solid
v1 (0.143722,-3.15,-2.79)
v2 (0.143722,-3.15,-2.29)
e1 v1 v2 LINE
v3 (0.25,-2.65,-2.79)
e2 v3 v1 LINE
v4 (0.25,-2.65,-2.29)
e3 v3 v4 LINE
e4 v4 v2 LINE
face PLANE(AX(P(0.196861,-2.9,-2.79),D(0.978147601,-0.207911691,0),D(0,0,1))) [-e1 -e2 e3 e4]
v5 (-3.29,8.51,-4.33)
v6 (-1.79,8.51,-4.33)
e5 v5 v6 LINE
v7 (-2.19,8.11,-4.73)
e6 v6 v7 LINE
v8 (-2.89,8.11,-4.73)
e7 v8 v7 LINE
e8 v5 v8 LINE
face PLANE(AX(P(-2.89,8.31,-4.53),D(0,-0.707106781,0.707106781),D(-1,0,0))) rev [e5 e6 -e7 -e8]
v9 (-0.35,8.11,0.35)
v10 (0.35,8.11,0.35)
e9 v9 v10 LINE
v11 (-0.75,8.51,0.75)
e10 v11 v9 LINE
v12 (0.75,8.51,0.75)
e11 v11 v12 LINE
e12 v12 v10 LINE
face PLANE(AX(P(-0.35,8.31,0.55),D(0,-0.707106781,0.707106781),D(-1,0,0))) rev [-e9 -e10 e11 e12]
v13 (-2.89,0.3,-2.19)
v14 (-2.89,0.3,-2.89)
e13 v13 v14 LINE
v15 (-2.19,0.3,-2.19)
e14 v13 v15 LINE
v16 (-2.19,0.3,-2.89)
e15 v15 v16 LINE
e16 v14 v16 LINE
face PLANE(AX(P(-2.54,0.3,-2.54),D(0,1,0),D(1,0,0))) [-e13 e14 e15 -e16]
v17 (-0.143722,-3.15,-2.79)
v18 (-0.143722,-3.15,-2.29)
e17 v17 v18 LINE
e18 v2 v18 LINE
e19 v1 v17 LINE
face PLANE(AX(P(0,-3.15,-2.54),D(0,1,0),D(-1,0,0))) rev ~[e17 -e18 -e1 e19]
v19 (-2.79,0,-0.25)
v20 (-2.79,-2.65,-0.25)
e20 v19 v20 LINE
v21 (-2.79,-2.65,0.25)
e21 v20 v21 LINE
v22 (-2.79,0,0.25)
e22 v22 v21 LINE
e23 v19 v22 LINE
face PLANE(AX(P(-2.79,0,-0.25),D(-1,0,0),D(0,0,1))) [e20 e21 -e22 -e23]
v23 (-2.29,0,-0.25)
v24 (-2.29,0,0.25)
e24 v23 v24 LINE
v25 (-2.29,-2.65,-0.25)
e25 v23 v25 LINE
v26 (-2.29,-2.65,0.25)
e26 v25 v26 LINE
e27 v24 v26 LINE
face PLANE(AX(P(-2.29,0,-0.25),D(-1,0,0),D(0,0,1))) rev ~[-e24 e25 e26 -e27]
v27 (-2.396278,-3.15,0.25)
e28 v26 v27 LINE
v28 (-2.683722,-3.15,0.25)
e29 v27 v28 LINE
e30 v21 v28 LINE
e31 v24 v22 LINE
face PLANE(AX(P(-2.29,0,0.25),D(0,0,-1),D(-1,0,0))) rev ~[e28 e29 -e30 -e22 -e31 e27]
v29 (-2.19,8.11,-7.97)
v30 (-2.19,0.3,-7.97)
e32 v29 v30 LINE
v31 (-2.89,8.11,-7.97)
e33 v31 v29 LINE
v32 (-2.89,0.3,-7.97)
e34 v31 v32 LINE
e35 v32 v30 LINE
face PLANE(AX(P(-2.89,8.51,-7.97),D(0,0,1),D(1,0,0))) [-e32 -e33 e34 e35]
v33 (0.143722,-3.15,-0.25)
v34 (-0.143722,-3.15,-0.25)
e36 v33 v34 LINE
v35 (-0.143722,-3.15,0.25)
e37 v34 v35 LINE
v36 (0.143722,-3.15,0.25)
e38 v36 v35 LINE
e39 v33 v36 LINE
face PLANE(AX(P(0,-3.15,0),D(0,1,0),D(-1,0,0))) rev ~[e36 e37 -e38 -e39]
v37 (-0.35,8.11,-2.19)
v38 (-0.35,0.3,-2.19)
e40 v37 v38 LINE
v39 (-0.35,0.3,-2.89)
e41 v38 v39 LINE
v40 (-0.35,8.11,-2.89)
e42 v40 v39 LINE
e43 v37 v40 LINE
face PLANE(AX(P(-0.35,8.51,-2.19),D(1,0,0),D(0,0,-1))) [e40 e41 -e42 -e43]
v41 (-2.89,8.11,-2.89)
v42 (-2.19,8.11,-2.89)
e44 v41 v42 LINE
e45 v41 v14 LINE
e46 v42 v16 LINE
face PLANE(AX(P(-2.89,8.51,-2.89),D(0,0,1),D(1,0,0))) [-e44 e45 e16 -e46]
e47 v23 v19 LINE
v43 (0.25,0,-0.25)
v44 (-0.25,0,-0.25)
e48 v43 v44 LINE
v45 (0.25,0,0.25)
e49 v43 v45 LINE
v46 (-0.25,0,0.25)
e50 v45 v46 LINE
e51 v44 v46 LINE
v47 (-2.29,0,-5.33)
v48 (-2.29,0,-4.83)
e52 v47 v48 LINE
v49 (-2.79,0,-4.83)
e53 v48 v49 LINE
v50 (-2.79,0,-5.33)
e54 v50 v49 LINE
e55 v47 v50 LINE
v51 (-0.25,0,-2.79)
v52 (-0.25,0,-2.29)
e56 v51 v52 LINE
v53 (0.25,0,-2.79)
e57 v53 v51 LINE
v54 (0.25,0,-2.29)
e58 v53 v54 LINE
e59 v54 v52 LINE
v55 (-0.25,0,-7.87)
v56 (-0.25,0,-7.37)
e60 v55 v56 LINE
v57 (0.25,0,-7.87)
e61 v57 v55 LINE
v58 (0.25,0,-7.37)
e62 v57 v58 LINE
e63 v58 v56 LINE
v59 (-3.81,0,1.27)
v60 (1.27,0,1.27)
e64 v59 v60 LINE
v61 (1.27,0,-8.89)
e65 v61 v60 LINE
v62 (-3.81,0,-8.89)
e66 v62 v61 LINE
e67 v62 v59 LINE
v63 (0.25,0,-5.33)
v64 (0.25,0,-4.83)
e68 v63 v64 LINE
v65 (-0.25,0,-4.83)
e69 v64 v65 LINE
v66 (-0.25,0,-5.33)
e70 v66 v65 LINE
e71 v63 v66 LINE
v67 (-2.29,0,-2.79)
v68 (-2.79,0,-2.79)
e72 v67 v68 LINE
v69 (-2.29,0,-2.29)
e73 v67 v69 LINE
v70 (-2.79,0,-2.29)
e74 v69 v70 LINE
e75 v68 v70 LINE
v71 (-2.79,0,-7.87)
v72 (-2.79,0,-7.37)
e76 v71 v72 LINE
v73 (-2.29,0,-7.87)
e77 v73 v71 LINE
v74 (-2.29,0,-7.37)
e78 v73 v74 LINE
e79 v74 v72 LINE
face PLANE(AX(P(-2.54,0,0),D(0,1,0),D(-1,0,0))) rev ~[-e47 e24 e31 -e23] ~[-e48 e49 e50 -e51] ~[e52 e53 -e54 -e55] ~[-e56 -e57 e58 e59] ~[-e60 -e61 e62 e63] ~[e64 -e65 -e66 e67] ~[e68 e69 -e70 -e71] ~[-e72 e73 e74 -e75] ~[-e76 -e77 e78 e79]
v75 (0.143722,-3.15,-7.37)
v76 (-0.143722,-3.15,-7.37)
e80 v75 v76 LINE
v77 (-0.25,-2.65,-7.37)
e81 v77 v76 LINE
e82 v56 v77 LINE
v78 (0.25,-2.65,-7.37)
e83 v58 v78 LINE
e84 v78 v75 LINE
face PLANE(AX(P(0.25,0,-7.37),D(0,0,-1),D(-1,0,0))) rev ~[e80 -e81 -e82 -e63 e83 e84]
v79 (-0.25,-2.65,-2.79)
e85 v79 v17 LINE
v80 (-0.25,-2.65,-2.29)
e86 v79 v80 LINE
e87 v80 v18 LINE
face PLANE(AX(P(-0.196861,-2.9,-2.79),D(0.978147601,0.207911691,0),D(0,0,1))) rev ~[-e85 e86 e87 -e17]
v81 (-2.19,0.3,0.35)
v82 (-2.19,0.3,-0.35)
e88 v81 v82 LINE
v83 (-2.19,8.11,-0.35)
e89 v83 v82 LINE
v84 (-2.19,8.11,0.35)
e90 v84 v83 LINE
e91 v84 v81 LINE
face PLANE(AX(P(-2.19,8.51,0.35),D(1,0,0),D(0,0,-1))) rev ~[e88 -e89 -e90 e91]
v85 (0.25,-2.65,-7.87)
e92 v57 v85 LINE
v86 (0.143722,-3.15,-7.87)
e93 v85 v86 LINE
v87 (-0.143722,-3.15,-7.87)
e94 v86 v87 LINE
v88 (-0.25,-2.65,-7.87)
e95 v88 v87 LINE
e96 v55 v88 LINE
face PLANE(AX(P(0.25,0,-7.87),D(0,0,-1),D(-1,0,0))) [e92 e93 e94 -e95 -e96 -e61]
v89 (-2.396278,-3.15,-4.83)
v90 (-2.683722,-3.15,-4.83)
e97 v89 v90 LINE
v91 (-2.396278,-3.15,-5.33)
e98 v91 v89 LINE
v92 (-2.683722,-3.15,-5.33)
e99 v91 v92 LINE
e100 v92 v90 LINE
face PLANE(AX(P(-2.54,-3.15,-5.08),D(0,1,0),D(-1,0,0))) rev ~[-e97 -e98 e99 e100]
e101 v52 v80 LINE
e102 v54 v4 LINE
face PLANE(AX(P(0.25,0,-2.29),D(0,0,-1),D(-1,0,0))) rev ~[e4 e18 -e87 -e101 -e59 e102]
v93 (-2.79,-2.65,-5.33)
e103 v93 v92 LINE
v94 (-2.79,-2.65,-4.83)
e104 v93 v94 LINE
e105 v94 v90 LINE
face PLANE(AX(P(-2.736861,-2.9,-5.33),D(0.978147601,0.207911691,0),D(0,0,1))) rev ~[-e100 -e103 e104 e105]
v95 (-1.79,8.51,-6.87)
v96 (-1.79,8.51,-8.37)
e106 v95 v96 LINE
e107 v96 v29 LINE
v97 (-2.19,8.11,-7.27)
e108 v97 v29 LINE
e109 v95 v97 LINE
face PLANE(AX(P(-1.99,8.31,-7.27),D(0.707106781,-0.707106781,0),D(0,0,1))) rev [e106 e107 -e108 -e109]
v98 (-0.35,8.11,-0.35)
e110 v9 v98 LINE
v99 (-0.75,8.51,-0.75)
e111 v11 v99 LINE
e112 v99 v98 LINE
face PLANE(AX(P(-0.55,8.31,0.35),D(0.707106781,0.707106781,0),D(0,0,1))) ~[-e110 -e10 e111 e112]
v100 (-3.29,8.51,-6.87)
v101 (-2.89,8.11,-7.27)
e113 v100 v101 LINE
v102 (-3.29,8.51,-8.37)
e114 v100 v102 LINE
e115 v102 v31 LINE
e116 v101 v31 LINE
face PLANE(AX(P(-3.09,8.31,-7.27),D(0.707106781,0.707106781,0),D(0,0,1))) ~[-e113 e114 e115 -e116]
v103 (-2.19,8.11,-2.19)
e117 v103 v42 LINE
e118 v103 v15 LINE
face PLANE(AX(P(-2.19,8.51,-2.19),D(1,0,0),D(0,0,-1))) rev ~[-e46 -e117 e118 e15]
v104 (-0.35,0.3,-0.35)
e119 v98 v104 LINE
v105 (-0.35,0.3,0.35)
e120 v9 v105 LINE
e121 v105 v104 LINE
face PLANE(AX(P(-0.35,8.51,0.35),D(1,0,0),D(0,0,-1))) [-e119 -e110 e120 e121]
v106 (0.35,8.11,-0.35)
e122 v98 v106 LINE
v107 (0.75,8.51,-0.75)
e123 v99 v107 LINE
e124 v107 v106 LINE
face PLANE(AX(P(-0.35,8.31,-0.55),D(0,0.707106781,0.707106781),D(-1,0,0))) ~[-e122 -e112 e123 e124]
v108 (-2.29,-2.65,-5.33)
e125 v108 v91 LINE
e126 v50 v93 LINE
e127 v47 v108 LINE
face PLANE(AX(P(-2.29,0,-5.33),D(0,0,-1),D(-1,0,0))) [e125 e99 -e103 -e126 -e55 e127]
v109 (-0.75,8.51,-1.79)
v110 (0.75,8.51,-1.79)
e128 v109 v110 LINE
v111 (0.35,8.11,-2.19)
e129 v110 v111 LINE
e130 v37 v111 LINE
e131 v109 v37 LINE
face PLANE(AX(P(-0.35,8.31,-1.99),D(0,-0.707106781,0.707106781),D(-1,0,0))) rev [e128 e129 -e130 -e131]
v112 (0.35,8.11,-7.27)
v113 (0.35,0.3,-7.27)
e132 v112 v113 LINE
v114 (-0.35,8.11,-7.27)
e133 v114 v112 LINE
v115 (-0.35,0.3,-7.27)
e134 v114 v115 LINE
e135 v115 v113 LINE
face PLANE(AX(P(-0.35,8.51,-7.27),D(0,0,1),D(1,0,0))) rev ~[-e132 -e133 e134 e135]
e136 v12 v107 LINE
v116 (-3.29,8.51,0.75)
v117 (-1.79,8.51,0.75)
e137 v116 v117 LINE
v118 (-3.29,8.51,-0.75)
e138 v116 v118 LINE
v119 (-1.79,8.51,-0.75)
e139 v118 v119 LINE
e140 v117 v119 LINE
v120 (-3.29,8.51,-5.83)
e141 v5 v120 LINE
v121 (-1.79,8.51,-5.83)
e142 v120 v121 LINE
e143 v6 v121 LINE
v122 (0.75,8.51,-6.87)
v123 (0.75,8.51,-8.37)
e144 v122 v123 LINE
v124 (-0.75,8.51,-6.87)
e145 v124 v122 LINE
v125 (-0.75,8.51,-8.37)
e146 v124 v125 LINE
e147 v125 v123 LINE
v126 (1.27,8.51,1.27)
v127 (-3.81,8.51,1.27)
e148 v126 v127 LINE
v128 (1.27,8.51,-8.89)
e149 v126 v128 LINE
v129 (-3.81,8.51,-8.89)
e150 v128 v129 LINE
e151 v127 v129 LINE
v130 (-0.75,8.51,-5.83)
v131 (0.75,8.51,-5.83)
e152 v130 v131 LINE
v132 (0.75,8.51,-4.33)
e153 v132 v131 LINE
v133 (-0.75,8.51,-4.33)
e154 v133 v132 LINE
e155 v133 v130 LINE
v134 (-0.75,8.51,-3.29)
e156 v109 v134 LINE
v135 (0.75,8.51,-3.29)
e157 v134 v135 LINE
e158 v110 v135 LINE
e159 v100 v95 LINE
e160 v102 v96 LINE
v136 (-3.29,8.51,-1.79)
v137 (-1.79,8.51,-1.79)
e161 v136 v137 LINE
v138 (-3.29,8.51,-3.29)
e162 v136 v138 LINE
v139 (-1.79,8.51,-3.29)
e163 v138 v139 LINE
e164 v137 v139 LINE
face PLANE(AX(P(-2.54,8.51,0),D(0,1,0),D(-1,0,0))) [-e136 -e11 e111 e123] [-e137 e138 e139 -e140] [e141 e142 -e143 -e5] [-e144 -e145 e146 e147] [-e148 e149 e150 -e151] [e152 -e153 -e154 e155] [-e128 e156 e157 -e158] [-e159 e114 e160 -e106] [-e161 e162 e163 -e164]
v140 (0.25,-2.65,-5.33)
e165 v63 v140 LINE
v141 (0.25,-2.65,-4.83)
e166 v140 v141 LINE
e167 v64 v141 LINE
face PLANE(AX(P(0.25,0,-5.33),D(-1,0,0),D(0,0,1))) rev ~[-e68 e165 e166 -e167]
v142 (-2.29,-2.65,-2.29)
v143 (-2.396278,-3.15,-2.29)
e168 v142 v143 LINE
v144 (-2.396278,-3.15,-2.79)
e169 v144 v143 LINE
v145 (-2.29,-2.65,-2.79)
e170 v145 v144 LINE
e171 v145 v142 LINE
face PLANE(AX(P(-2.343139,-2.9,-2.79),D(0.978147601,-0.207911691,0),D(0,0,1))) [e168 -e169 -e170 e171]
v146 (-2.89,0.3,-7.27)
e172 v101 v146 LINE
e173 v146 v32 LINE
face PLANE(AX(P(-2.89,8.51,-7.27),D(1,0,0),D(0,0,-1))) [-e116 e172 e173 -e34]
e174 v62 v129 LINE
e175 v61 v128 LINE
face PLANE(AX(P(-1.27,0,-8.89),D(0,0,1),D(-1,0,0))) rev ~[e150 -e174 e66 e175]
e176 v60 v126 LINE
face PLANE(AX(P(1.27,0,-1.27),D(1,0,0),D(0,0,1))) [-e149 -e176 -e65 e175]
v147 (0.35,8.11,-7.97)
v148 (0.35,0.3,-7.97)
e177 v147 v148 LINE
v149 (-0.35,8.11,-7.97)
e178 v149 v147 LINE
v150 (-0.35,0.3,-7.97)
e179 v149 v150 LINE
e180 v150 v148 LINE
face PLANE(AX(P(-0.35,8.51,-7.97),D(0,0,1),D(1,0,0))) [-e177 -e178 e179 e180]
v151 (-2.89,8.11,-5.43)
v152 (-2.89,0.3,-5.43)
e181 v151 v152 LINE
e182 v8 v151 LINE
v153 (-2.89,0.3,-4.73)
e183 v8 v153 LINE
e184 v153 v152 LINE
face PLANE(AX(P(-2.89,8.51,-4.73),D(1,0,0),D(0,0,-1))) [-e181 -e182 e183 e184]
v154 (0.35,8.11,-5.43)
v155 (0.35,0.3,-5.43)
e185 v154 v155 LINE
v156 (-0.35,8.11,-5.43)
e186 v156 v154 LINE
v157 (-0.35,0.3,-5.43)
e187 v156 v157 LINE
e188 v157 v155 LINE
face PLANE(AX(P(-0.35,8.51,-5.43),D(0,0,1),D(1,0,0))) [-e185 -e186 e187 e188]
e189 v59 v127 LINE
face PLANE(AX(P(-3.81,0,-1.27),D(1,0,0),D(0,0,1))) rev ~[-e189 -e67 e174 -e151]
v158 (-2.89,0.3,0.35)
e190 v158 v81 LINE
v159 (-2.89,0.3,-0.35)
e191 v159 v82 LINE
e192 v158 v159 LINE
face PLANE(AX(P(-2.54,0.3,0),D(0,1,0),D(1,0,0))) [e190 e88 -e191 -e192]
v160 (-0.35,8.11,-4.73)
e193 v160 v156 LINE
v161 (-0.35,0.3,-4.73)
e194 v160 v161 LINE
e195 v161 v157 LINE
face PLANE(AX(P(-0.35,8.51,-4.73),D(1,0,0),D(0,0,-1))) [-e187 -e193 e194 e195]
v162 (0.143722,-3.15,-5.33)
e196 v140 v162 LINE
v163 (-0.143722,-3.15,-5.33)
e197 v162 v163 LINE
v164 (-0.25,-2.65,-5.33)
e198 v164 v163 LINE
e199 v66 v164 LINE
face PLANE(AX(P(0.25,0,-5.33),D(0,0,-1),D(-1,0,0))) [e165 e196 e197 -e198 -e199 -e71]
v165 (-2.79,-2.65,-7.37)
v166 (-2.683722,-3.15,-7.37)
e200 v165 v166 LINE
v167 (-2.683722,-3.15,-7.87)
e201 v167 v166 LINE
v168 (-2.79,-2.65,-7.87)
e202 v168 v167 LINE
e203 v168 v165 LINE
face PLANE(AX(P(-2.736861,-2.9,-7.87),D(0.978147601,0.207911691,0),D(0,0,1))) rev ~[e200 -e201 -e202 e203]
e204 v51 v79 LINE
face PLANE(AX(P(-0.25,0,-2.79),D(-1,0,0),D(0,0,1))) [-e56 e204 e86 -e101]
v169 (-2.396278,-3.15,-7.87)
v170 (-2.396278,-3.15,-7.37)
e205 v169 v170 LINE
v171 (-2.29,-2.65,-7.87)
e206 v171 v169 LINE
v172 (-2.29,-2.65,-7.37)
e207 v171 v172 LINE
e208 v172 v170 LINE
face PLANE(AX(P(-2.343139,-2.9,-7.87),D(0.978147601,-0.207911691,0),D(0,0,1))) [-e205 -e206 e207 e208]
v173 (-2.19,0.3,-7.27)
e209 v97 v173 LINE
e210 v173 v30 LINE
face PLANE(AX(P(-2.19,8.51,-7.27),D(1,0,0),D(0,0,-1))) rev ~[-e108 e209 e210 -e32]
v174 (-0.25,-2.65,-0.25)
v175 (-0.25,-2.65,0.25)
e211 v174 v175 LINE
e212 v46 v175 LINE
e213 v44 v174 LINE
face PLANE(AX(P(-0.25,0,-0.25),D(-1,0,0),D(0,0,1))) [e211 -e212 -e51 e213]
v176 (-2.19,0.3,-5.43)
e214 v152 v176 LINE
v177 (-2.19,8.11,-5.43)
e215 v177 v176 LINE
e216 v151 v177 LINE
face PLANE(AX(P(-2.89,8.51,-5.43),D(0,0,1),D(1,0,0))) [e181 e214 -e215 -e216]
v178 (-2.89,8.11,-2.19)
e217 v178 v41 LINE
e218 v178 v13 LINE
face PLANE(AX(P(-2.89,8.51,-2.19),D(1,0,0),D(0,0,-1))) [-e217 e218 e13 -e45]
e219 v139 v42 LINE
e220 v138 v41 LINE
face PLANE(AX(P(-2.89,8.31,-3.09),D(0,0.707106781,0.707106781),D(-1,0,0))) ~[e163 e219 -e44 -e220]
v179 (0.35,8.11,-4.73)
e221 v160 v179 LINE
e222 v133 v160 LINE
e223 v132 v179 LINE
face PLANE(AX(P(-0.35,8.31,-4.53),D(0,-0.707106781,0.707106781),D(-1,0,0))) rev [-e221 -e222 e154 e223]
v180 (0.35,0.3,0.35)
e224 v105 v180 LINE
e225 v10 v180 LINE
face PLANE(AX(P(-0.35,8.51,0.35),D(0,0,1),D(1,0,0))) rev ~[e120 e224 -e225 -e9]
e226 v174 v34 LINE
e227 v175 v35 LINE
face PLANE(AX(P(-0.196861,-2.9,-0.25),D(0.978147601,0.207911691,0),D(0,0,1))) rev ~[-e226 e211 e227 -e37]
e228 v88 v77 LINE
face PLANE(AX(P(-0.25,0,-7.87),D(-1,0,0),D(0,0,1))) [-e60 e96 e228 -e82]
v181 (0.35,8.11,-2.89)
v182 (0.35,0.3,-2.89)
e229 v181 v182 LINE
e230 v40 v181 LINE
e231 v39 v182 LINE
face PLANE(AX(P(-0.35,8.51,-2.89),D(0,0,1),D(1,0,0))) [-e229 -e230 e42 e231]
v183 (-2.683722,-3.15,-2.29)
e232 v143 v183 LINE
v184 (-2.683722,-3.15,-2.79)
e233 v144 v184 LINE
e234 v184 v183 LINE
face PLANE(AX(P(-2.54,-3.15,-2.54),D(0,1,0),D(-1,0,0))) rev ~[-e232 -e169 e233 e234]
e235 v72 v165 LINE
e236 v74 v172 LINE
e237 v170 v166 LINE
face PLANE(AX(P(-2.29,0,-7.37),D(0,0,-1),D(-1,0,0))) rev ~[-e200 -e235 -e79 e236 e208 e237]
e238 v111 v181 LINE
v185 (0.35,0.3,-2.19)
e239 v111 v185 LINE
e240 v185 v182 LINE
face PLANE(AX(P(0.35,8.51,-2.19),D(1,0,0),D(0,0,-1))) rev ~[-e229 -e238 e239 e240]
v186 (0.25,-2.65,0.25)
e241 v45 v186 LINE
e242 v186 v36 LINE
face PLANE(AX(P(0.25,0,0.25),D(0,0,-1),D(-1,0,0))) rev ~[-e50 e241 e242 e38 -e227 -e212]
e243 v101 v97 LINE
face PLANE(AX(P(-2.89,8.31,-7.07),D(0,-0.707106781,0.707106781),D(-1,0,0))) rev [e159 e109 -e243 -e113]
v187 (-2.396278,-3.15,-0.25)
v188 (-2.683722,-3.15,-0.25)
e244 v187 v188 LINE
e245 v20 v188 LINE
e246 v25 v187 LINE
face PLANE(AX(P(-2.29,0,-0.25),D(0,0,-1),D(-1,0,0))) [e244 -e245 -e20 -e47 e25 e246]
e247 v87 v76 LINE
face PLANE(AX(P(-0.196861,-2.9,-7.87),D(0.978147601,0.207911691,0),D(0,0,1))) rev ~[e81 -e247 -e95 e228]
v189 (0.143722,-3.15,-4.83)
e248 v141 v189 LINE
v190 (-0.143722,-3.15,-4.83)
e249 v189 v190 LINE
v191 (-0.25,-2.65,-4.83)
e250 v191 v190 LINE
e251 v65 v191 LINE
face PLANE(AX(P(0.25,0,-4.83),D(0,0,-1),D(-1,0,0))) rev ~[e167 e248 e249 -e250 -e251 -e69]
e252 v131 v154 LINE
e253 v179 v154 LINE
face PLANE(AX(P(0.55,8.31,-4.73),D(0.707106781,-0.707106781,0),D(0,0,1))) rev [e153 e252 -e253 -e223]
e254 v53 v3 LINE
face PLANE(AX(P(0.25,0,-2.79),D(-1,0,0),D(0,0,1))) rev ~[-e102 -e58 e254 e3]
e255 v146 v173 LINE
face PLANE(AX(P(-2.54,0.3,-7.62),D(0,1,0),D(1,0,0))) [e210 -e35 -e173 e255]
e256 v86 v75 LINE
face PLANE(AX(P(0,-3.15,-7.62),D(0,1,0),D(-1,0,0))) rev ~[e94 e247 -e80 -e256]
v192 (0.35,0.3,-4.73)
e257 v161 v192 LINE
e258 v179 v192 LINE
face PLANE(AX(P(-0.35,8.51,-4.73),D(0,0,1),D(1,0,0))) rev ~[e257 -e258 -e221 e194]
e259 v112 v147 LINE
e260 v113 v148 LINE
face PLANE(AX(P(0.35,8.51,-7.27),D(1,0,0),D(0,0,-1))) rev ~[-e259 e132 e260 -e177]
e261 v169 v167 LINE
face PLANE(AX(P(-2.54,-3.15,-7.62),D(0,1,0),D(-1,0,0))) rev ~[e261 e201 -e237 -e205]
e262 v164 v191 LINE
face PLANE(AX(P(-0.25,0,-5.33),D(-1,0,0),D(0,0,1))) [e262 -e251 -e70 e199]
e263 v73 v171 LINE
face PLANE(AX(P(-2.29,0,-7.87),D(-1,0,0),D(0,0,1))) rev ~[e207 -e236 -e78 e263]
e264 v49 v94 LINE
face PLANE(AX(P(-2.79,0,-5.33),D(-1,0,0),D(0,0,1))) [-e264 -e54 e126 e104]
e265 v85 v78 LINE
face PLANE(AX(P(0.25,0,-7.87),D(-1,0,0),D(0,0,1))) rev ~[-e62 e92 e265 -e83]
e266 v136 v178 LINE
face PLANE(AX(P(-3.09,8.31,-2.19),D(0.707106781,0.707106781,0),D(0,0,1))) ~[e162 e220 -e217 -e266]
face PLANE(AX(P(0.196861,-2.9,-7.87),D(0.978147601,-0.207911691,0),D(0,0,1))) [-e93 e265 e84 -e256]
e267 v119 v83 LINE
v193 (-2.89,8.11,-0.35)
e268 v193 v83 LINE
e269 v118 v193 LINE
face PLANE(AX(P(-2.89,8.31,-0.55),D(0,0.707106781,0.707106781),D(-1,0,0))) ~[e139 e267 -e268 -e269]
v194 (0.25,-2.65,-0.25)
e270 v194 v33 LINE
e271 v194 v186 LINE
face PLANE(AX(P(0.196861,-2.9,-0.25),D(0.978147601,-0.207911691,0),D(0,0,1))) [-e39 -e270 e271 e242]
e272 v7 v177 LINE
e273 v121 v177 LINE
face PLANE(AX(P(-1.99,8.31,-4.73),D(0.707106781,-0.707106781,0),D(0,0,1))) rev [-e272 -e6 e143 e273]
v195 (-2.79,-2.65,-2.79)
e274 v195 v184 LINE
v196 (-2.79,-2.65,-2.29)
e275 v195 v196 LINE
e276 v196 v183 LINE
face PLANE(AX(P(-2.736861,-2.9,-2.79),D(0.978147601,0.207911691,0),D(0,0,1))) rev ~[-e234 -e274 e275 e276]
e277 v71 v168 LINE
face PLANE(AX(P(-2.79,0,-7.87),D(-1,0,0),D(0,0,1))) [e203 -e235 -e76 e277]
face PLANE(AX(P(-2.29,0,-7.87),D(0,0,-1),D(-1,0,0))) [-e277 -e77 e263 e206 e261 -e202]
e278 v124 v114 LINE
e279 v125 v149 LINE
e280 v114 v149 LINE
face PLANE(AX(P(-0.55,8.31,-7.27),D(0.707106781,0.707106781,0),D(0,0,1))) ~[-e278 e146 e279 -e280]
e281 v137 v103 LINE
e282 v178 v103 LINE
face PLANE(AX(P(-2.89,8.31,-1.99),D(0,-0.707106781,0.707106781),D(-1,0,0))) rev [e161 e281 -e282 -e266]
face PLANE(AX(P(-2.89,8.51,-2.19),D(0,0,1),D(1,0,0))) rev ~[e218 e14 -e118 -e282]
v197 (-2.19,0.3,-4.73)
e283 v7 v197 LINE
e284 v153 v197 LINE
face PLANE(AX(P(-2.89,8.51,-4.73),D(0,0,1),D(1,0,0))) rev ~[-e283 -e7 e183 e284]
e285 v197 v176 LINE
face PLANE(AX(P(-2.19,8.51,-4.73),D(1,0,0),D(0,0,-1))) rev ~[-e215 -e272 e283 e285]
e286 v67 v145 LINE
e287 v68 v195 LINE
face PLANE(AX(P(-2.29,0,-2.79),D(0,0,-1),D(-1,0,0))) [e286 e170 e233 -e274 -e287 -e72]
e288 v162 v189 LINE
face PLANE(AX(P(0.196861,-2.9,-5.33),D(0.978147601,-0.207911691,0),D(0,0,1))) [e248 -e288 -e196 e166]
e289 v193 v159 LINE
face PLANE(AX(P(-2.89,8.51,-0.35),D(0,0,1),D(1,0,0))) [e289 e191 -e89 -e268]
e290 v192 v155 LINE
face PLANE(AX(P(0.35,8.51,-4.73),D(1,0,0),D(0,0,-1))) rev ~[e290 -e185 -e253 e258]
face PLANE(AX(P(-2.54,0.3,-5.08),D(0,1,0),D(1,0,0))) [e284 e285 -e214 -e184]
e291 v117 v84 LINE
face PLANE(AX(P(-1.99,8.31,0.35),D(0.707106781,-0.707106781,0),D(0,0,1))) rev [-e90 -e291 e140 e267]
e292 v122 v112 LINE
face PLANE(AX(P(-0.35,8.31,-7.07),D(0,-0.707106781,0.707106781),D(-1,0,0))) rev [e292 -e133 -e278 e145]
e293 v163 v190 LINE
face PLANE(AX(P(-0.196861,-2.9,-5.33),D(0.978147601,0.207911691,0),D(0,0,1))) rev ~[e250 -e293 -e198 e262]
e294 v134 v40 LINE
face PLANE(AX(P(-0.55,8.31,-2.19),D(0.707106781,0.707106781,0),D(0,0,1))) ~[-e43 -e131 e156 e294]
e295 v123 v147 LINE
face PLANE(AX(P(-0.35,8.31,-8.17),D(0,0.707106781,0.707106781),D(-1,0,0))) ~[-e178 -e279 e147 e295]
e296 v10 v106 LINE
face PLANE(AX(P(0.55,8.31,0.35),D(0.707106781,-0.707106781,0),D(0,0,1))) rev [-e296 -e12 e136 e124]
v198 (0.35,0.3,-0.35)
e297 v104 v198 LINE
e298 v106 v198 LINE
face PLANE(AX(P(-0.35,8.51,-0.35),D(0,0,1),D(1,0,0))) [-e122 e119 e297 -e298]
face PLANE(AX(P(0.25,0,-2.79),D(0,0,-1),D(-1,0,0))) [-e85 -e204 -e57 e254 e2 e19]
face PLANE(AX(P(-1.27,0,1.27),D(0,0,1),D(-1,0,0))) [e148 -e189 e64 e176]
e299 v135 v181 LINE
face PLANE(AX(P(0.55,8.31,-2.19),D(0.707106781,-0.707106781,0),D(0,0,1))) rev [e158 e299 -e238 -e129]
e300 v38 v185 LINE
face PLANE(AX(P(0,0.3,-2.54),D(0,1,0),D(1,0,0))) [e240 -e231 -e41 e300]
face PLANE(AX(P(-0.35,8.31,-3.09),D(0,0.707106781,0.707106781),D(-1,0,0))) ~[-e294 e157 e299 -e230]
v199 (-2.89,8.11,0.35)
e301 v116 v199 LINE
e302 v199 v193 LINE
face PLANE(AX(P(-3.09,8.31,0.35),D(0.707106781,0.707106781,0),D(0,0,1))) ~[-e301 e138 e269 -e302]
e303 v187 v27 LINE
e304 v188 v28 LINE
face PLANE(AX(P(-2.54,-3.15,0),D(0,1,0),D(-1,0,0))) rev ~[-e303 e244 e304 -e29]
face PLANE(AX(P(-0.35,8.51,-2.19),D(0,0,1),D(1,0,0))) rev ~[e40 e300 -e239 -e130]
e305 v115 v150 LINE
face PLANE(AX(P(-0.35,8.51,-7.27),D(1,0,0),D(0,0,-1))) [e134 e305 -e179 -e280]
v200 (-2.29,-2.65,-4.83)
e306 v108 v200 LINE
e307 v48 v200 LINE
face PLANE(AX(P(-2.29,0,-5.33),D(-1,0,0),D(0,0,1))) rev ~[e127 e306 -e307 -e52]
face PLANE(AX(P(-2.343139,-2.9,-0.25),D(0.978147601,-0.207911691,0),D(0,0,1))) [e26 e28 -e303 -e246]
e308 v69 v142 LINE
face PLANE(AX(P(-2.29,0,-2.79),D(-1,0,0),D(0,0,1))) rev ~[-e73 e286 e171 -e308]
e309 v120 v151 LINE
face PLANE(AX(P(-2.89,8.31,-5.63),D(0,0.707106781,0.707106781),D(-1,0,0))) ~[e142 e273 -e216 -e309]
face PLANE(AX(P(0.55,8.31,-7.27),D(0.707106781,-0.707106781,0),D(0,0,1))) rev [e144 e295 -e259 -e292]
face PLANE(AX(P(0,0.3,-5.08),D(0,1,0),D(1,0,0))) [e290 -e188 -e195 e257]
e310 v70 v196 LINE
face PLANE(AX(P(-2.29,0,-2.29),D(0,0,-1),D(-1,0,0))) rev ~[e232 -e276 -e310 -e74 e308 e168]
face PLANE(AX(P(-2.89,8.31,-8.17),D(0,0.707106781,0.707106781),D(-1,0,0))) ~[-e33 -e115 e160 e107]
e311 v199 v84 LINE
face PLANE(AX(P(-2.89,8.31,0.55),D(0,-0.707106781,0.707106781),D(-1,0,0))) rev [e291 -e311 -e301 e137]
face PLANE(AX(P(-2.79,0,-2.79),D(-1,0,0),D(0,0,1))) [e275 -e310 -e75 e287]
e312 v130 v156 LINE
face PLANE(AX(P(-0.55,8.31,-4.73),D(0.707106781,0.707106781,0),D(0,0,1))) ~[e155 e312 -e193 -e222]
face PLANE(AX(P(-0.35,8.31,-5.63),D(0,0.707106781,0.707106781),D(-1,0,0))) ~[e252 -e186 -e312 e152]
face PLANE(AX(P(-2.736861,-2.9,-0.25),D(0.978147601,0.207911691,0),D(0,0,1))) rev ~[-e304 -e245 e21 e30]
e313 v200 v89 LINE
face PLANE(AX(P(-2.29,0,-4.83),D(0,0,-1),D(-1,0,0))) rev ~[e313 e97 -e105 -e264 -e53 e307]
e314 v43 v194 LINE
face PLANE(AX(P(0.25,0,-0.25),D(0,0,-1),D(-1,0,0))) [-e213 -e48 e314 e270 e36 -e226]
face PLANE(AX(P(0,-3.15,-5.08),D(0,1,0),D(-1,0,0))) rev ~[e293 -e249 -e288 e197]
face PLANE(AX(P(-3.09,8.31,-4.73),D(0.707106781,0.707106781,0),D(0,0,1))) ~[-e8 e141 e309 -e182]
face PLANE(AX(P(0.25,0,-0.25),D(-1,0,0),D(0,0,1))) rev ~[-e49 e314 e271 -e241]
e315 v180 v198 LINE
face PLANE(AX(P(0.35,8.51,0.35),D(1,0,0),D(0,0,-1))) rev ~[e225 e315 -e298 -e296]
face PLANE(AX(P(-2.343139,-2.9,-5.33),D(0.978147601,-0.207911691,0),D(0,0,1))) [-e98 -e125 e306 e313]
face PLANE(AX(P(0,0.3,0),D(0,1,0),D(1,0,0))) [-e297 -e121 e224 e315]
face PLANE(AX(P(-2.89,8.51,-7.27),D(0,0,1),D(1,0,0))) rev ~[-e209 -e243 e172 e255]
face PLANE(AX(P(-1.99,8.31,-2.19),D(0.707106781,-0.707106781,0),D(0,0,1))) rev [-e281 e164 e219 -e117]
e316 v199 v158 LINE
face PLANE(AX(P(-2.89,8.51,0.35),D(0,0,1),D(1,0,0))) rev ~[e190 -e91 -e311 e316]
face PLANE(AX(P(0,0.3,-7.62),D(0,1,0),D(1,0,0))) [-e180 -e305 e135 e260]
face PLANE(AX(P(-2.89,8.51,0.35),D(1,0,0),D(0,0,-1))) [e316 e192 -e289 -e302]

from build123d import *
from OCP.BRepFilletAPI import BRepFilletAPI_MakeChamfer

# Parameters (mm, degrees)
SKETCH_1_W                          = 2.54
SKETCH_1_H                          = 2.54
EXTRUDE_1_DEPTH                     = 8.51
SKETCH_4_W                          = 0.7
SKETCH_4_H                          = 0.7
CUT_EXTRUDE_1_DEPTH                 = 8.21
CHAMFER_3_SIZE                      = 0.4
SKETCH_2_W                          = 0.5
SKETCH_2_H                          = 0.5
EXTRUDE_2_DEPTH                     = 3.15
CHAMFER_2_SIZE                      = 0.5
CHAMFER_2_SIZE2                     = 0.106278281
PATTERN_LINEAR_1_COUNT              = 4
PATTERN_LINEAR_1_PITCH              = 2.54
PATTERN_LINEAR_1_COUNT_DIR2         = 2
PATTERN_LINEAR_1_PITCH_DIR2         = 2.54
CHAMFER_3_OF_PATTERN_LINEAR_1_SIZE  = 0.4
CHAMFER_2_OF_PATTERN_LINEAR_1_SIZE  = 0.5
CHAMFER_2_OF_PATTERN_LINEAR_1_SIZE2 = 0.106278281


with BuildPart() as part:
    # Эскиз1 → Бобышка-Вытянуть1 (new body)
    with BuildSketch(Plane(origin=(0, 0, 0), x_dir=(-1, 0, 0), z_dir=(0, 1, 0))):
        Rectangle(SKETCH_1_W, SKETCH_1_H)
    extrude_1 = extrude(amount=EXTRUDE_1_DEPTH)

    # Эскиз4 → Вырез-Вытянуть1 (cut)
    with BuildSketch(Plane(origin=(0, 8.51, 0), x_dir=(1, 0, 0), z_dir=(0, 1, 0))):
        Rectangle(SKETCH_4_W, SKETCH_4_H)
    cut_extrude_1 = extrude(amount=-CUT_EXTRUDE_1_DEPTH, mode=Mode.SUBTRACT)

    # Фаска3
    chamfer_3_edges = [part.edges().sort_by_distance(p)[0] for p in [
        (-0.35, 8.51, 0),
        (0, 8.51, 0.35),
        (0.35, 8.51, 0),
        (0, 8.51, -0.35),
    ]]
    chamfer(chamfer_3_edges, length=CHAMFER_3_SIZE)

    # Эскиз2 → Бобышка-Вытянуть2 (add)
    with BuildSketch(Plane(origin=(0, 0, 0), x_dir=(-1, 0, 0), z_dir=(0, 1, 0))):
        Rectangle(SKETCH_2_W, SKETCH_2_H)
    extrude_2 = extrude(amount=-EXTRUDE_2_DEPTH)

    # Фаска2: one chamfer whose edges measure the first distance from different faces: ONE call of the kernel's chamfer builder (chamfer() names one face for all edges)
    chamfer_2_edges_1 = [part.edges().sort_by_distance(p)[0] for p in [
        (-0.25, -3.15, 0),
    ]]
    chamfer_2_side_1 = [part.faces().sort_by_distance(p)[0] for p in [
        (-0.25, -1.575, 0),
    ]]
    chamfer_2_edges_2 = [part.edges().sort_by_distance(p)[0] for p in [
        (0.25, -3.15, 0),
    ]]
    chamfer_2_side_2 = [part.faces().sort_by_distance(p)[0] for p in [
        (0.25, -1.575, 0),
    ]]
    chamfer_2 = BRepFilletAPI_MakeChamfer(part.part.solid().wrapped)
    for e in chamfer_2_edges_1:
        chamfer_2.Add(CHAMFER_2_SIZE, CHAMFER_2_SIZE2, e.wrapped, chamfer_2_side_1[0].wrapped)  # the first distance lies on this face
    for e in chamfer_2_edges_2:
        chamfer_2.Add(CHAMFER_2_SIZE, CHAMFER_2_SIZE2, e.wrapped, chamfer_2_side_2[0].wrapped)  # the first distance lies on this face
    add(Compound.cast(chamfer_2.Shape()), mode=Mode.REPLACE)

    # Линейный массив1: Бобышка-Вытянуть1, Вырез-Вытянуть1, Extrude 2 4 × 2
    with Locations(*[(-j * PATTERN_LINEAR_1_PITCH_DIR2, 0, -i * PATTERN_LINEAR_1_PITCH) for i in range(PATTERN_LINEAR_1_COUNT) for j in range(PATTERN_LINEAR_1_COUNT_DIR2) if (i, j) != (0, 0)]):
        add(extrude_1)
        add(cut_extrude_1, mode=Mode.SUBTRACT)
        add(extrude_2)

    # Фаска3 of Линейный массив1
    chamfer_3_of_pattern_linear_1_edges = [part.edges().sort_by_distance(p)[0] for p in [
        (-2.89, 8.51, 0),
        (-2.54, 8.51, 0.35),
        (-2.19, 8.51, 0),
        (-2.54, 8.51, -0.35),
        (-0.35, 8.51, -2.54),
        (0, 8.51, -2.19),
        (0.35, 8.51, -2.54),
        (0, 8.51, -2.89),
        (-2.89, 8.51, -2.54),
        (-2.54, 8.51, -2.19),
        (-2.19, 8.51, -2.54),
        (-2.54, 8.51, -2.89),
        (-0.35, 8.51, -5.08),
        (0, 8.51, -4.73),
        (0.35, 8.51, -5.08),
        (0, 8.51, -5.43),
        (-2.89, 8.51, -5.08),
        (-2.54, 8.51, -4.73),
        (-2.19, 8.51, -5.08),
        (-2.54, 8.51, -5.43),
        (-0.35, 8.51, -7.62),
        (0, 8.51, -7.27),
        (0.35, 8.51, -7.62),
        (0, 8.51, -7.97),
        (-2.89, 8.51, -7.62),
        (-2.54, 8.51, -7.27),
        (-2.19, 8.51, -7.62),
        (-2.54, 8.51, -7.97),
    ]]
    chamfer(chamfer_3_of_pattern_linear_1_edges, length=CHAMFER_3_OF_PATTERN_LINEAR_1_SIZE)

    # Фаска2 of Линейный массив1: one chamfer whose edges measure the first distance from different faces: ONE call of the kernel's chamfer builder (chamfer() names one face for all edges)
    chamfer_2_of_pattern_linear_1_edges_1 = [part.edges().sort_by_distance(p)[0] for p in [
        (-2.79, -3.15, 0),
    ]]
    chamfer_2_of_pattern_linear_1_side_1 = [part.faces().sort_by_distance(p)[0] for p in [
        (-2.79, -1.575, 0),
    ]]
    chamfer_2_of_pattern_linear_1_edges_2 = [part.edges().sort_by_distance(p)[0] for p in [
        (-2.29, -3.15, 0),
    ]]
    chamfer_2_of_pattern_linear_1_side_2 = [part.faces().sort_by_distance(p)[0] for p in [
        (-2.29, -1.575, 0),
    ]]
    chamfer_2_of_pattern_linear_1_edges_3 = [part.edges().sort_by_distance(p)[0] for p in [
        (-0.25, -3.15, -2.54),
    ]]
    chamfer_2_of_pattern_linear_1_side_3 = [part.faces().sort_by_distance(p)[0] for p in [
        (-0.25, -1.575, -2.54),
    ]]
    chamfer_2_of_pattern_linear_1_edges_4 = [part.edges().sort_by_distance(p)[0] for p in [
        (0.25, -3.15, -2.54),
    ]]
    chamfer_2_of_pattern_linear_1_side_4 = [part.faces().sort_by_distance(p)[0] for p in [
        (0.25, -1.575, -2.54),
    ]]
    chamfer_2_of_pattern_linear_1_edges_5 = [part.edges().sort_by_distance(p)[0] for p in [
        (-2.79, -3.15, -2.54),
    ]]
    chamfer_2_of_pattern_linear_1_side_5 = [part.faces().sort_by_distance(p)[0] for p in [
        (-2.79, -1.575, -2.54),
    ]]
    chamfer_2_of_pattern_linear_1_edges_6 = [part.edges().sort_by_distance(p)[0] for p in [
        (-2.29, -3.15, -2.54),
    ]]
    chamfer_2_of_pattern_linear_1_side_6 = [part.faces().sort_by_distance(p)[0] for p in [
        (-2.29, -1.575, -2.54),
    ]]
    chamfer_2_of_pattern_linear_1_edges_7 = [part.edges().sort_by_distance(p)[0] for p in [
        (-0.25, -3.15, -5.08),
    ]]
    chamfer_2_of_pattern_linear_1_side_7 = [part.faces().sort_by_distance(p)[0] for p in [
        (-0.25, -1.575, -5.08),
    ]]
    chamfer_2_of_pattern_linear_1_edges_8 = [part.edges().sort_by_distance(p)[0] for p in [
        (0.25, -3.15, -5.08),
    ]]
    chamfer_2_of_pattern_linear_1_side_8 = [part.faces().sort_by_distance(p)[0] for p in [
        (0.25, -1.575, -5.08),
    ]]
    chamfer_2_of_pattern_linear_1_edges_9 = [part.edges().sort_by_distance(p)[0] for p in [
        (-2.79, -3.15, -5.08),
    ]]
    chamfer_2_of_pattern_linear_1_side_9 = [part.faces().sort_by_distance(p)[0] for p in [
        (-2.79, -1.575, -5.08),
    ]]
    chamfer_2_of_pattern_linear_1_edges_10 = [part.edges().sort_by_distance(p)[0] for p in [
        (-2.29, -3.15, -5.08),
    ]]
    chamfer_2_of_pattern_linear_1_side_10 = [part.faces().sort_by_distance(p)[0] for p in [
        (-2.29, -1.575, -5.08),
    ]]
    chamfer_2_of_pattern_linear_1_edges_11 = [part.edges().sort_by_distance(p)[0] for p in [
        (-0.25, -3.15, -7.62),
    ]]
    chamfer_2_of_pattern_linear_1_side_11 = [part.faces().sort_by_distance(p)[0] for p in [
        (-0.25, -1.575, -7.62),
    ]]
    chamfer_2_of_pattern_linear_1_edges_12 = [part.edges().sort_by_distance(p)[0] for p in [
        (0.25, -3.15, -7.62),
    ]]
    chamfer_2_of_pattern_linear_1_side_12 = [part.faces().sort_by_distance(p)[0] for p in [
        (0.25, -1.575, -7.62),
    ]]
    chamfer_2_of_pattern_linear_1_edges_13 = [part.edges().sort_by_distance(p)[0] for p in [
        (-2.79, -3.15, -7.62),
    ]]
    chamfer_2_of_pattern_linear_1_side_13 = [part.faces().sort_by_distance(p)[0] for p in [
        (-2.79, -1.575, -7.62),
    ]]
    chamfer_2_of_pattern_linear_1_edges_14 = [part.edges().sort_by_distance(p)[0] for p in [
        (-2.29, -3.15, -7.62),
    ]]
    chamfer_2_of_pattern_linear_1_side_14 = [part.faces().sort_by_distance(p)[0] for p in [
        (-2.29, -1.575, -7.62),
    ]]
    chamfer_2_of_pattern_linear_1 = BRepFilletAPI_MakeChamfer(part.part.solid().wrapped)
    for e in chamfer_2_of_pattern_linear_1_edges_1:
        chamfer_2_of_pattern_linear_1.Add(CHAMFER_2_OF_PATTERN_LINEAR_1_SIZE, CHAMFER_2_OF_PATTERN_LINEAR_1_SIZE2, e.wrapped, chamfer_2_of_pattern_linear_1_side_1[0].wrapped)  # the first distance lies on this face
    for e in chamfer_2_of_pattern_linear_1_edges_2:
        chamfer_2_of_pattern_linear_1.Add(CHAMFER_2_OF_PATTERN_LINEAR_1_SIZE, CHAMFER_2_OF_PATTERN_LINEAR_1_SIZE2, e.wrapped, chamfer_2_of_pattern_linear_1_side_2[0].wrapped)  # the first distance lies on this face
    for e in chamfer_2_of_pattern_linear_1_edges_3:
        chamfer_2_of_pattern_linear_1.Add(CHAMFER_2_OF_PATTERN_LINEAR_1_SIZE, CHAMFER_2_OF_PATTERN_LINEAR_1_SIZE2, e.wrapped, chamfer_2_of_pattern_linear_1_side_3[0].wrapped)  # the first distance lies on this face
    for e in chamfer_2_of_pattern_linear_1_edges_4:
        chamfer_2_of_pattern_linear_1.Add(CHAMFER_2_OF_PATTERN_LINEAR_1_SIZE, CHAMFER_2_OF_PATTERN_LINEAR_1_SIZE2, e.wrapped, chamfer_2_of_pattern_linear_1_side_4[0].wrapped)  # the first distance lies on this face
    for e in chamfer_2_of_pattern_linear_1_edges_5:
        chamfer_2_of_pattern_linear_1.Add(CHAMFER_2_OF_PATTERN_LINEAR_1_SIZE, CHAMFER_2_OF_PATTERN_LINEAR_1_SIZE2, e.wrapped, chamfer_2_of_pattern_linear_1_side_5[0].wrapped)  # the first distance lies on this face
    for e in chamfer_2_of_pattern_linear_1_edges_6:
        chamfer_2_of_pattern_linear_1.Add(CHAMFER_2_OF_PATTERN_LINEAR_1_SIZE, CHAMFER_2_OF_PATTERN_LINEAR_1_SIZE2, e.wrapped, chamfer_2_of_pattern_linear_1_side_6[0].wrapped)  # the first distance lies on this face
    for e in chamfer_2_of_pattern_linear_1_edges_7:
        chamfer_2_of_pattern_linear_1.Add(CHAMFER_2_OF_PATTERN_LINEAR_1_SIZE, CHAMFER_2_OF_PATTERN_LINEAR_1_SIZE2, e.wrapped, chamfer_2_of_pattern_linear_1_side_7[0].wrapped)  # the first distance lies on this face
    for e in chamfer_2_of_pattern_linear_1_edges_8:
        chamfer_2_of_pattern_linear_1.Add(CHAMFER_2_OF_PATTERN_LINEAR_1_SIZE, CHAMFER_2_OF_PATTERN_LINEAR_1_SIZE2, e.wrapped, chamfer_2_of_pattern_linear_1_side_8[0].wrapped)  # the first distance lies on this face
    for e in chamfer_2_of_pattern_linear_1_edges_9:
        chamfer_2_of_pattern_linear_1.Add(CHAMFER_2_OF_PATTERN_LINEAR_1_SIZE, CHAMFER_2_OF_PATTERN_LINEAR_1_SIZE2, e.wrapped, chamfer_2_of_pattern_linear_1_side_9[0].wrapped)  # the first distance lies on this face
    for e in chamfer_2_of_pattern_linear_1_edges_10:
        chamfer_2_of_pattern_linear_1.Add(CHAMFER_2_OF_PATTERN_LINEAR_1_SIZE, CHAMFER_2_OF_PATTERN_LINEAR_1_SIZE2, e.wrapped, chamfer_2_of_pattern_linear_1_side_10[0].wrapped)  # the first distance lies on this face
    for e in chamfer_2_of_pattern_linear_1_edges_11:
        chamfer_2_of_pattern_linear_1.Add(CHAMFER_2_OF_PATTERN_LINEAR_1_SIZE, CHAMFER_2_OF_PATTERN_LINEAR_1_SIZE2, e.wrapped, chamfer_2_of_pattern_linear_1_side_11[0].wrapped)  # the first distance lies on this face
    for e in chamfer_2_of_pattern_linear_1_edges_12:
        chamfer_2_of_pattern_linear_1.Add(CHAMFER_2_OF_PATTERN_LINEAR_1_SIZE, CHAMFER_2_OF_PATTERN_LINEAR_1_SIZE2, e.wrapped, chamfer_2_of_pattern_linear_1_side_12[0].wrapped)  # the first distance lies on this face
    for e in chamfer_2_of_pattern_linear_1_edges_13:
        chamfer_2_of_pattern_linear_1.Add(CHAMFER_2_OF_PATTERN_LINEAR_1_SIZE, CHAMFER_2_OF_PATTERN_LINEAR_1_SIZE2, e.wrapped, chamfer_2_of_pattern_linear_1_side_13[0].wrapped)  # the first distance lies on this face
    for e in chamfer_2_of_pattern_linear_1_edges_14:
        chamfer_2_of_pattern_linear_1.Add(CHAMFER_2_OF_PATTERN_LINEAR_1_SIZE, CHAMFER_2_OF_PATTERN_LINEAR_1_SIZE2, e.wrapped, chamfer_2_of_pattern_linear_1_side_14[0].wrapped)  # the first distance lies on this face
    add(Compound.cast(chamfer_2_of_pattern_linear_1.Shape()), mode=Mode.REPLACE)


solid = part.part
